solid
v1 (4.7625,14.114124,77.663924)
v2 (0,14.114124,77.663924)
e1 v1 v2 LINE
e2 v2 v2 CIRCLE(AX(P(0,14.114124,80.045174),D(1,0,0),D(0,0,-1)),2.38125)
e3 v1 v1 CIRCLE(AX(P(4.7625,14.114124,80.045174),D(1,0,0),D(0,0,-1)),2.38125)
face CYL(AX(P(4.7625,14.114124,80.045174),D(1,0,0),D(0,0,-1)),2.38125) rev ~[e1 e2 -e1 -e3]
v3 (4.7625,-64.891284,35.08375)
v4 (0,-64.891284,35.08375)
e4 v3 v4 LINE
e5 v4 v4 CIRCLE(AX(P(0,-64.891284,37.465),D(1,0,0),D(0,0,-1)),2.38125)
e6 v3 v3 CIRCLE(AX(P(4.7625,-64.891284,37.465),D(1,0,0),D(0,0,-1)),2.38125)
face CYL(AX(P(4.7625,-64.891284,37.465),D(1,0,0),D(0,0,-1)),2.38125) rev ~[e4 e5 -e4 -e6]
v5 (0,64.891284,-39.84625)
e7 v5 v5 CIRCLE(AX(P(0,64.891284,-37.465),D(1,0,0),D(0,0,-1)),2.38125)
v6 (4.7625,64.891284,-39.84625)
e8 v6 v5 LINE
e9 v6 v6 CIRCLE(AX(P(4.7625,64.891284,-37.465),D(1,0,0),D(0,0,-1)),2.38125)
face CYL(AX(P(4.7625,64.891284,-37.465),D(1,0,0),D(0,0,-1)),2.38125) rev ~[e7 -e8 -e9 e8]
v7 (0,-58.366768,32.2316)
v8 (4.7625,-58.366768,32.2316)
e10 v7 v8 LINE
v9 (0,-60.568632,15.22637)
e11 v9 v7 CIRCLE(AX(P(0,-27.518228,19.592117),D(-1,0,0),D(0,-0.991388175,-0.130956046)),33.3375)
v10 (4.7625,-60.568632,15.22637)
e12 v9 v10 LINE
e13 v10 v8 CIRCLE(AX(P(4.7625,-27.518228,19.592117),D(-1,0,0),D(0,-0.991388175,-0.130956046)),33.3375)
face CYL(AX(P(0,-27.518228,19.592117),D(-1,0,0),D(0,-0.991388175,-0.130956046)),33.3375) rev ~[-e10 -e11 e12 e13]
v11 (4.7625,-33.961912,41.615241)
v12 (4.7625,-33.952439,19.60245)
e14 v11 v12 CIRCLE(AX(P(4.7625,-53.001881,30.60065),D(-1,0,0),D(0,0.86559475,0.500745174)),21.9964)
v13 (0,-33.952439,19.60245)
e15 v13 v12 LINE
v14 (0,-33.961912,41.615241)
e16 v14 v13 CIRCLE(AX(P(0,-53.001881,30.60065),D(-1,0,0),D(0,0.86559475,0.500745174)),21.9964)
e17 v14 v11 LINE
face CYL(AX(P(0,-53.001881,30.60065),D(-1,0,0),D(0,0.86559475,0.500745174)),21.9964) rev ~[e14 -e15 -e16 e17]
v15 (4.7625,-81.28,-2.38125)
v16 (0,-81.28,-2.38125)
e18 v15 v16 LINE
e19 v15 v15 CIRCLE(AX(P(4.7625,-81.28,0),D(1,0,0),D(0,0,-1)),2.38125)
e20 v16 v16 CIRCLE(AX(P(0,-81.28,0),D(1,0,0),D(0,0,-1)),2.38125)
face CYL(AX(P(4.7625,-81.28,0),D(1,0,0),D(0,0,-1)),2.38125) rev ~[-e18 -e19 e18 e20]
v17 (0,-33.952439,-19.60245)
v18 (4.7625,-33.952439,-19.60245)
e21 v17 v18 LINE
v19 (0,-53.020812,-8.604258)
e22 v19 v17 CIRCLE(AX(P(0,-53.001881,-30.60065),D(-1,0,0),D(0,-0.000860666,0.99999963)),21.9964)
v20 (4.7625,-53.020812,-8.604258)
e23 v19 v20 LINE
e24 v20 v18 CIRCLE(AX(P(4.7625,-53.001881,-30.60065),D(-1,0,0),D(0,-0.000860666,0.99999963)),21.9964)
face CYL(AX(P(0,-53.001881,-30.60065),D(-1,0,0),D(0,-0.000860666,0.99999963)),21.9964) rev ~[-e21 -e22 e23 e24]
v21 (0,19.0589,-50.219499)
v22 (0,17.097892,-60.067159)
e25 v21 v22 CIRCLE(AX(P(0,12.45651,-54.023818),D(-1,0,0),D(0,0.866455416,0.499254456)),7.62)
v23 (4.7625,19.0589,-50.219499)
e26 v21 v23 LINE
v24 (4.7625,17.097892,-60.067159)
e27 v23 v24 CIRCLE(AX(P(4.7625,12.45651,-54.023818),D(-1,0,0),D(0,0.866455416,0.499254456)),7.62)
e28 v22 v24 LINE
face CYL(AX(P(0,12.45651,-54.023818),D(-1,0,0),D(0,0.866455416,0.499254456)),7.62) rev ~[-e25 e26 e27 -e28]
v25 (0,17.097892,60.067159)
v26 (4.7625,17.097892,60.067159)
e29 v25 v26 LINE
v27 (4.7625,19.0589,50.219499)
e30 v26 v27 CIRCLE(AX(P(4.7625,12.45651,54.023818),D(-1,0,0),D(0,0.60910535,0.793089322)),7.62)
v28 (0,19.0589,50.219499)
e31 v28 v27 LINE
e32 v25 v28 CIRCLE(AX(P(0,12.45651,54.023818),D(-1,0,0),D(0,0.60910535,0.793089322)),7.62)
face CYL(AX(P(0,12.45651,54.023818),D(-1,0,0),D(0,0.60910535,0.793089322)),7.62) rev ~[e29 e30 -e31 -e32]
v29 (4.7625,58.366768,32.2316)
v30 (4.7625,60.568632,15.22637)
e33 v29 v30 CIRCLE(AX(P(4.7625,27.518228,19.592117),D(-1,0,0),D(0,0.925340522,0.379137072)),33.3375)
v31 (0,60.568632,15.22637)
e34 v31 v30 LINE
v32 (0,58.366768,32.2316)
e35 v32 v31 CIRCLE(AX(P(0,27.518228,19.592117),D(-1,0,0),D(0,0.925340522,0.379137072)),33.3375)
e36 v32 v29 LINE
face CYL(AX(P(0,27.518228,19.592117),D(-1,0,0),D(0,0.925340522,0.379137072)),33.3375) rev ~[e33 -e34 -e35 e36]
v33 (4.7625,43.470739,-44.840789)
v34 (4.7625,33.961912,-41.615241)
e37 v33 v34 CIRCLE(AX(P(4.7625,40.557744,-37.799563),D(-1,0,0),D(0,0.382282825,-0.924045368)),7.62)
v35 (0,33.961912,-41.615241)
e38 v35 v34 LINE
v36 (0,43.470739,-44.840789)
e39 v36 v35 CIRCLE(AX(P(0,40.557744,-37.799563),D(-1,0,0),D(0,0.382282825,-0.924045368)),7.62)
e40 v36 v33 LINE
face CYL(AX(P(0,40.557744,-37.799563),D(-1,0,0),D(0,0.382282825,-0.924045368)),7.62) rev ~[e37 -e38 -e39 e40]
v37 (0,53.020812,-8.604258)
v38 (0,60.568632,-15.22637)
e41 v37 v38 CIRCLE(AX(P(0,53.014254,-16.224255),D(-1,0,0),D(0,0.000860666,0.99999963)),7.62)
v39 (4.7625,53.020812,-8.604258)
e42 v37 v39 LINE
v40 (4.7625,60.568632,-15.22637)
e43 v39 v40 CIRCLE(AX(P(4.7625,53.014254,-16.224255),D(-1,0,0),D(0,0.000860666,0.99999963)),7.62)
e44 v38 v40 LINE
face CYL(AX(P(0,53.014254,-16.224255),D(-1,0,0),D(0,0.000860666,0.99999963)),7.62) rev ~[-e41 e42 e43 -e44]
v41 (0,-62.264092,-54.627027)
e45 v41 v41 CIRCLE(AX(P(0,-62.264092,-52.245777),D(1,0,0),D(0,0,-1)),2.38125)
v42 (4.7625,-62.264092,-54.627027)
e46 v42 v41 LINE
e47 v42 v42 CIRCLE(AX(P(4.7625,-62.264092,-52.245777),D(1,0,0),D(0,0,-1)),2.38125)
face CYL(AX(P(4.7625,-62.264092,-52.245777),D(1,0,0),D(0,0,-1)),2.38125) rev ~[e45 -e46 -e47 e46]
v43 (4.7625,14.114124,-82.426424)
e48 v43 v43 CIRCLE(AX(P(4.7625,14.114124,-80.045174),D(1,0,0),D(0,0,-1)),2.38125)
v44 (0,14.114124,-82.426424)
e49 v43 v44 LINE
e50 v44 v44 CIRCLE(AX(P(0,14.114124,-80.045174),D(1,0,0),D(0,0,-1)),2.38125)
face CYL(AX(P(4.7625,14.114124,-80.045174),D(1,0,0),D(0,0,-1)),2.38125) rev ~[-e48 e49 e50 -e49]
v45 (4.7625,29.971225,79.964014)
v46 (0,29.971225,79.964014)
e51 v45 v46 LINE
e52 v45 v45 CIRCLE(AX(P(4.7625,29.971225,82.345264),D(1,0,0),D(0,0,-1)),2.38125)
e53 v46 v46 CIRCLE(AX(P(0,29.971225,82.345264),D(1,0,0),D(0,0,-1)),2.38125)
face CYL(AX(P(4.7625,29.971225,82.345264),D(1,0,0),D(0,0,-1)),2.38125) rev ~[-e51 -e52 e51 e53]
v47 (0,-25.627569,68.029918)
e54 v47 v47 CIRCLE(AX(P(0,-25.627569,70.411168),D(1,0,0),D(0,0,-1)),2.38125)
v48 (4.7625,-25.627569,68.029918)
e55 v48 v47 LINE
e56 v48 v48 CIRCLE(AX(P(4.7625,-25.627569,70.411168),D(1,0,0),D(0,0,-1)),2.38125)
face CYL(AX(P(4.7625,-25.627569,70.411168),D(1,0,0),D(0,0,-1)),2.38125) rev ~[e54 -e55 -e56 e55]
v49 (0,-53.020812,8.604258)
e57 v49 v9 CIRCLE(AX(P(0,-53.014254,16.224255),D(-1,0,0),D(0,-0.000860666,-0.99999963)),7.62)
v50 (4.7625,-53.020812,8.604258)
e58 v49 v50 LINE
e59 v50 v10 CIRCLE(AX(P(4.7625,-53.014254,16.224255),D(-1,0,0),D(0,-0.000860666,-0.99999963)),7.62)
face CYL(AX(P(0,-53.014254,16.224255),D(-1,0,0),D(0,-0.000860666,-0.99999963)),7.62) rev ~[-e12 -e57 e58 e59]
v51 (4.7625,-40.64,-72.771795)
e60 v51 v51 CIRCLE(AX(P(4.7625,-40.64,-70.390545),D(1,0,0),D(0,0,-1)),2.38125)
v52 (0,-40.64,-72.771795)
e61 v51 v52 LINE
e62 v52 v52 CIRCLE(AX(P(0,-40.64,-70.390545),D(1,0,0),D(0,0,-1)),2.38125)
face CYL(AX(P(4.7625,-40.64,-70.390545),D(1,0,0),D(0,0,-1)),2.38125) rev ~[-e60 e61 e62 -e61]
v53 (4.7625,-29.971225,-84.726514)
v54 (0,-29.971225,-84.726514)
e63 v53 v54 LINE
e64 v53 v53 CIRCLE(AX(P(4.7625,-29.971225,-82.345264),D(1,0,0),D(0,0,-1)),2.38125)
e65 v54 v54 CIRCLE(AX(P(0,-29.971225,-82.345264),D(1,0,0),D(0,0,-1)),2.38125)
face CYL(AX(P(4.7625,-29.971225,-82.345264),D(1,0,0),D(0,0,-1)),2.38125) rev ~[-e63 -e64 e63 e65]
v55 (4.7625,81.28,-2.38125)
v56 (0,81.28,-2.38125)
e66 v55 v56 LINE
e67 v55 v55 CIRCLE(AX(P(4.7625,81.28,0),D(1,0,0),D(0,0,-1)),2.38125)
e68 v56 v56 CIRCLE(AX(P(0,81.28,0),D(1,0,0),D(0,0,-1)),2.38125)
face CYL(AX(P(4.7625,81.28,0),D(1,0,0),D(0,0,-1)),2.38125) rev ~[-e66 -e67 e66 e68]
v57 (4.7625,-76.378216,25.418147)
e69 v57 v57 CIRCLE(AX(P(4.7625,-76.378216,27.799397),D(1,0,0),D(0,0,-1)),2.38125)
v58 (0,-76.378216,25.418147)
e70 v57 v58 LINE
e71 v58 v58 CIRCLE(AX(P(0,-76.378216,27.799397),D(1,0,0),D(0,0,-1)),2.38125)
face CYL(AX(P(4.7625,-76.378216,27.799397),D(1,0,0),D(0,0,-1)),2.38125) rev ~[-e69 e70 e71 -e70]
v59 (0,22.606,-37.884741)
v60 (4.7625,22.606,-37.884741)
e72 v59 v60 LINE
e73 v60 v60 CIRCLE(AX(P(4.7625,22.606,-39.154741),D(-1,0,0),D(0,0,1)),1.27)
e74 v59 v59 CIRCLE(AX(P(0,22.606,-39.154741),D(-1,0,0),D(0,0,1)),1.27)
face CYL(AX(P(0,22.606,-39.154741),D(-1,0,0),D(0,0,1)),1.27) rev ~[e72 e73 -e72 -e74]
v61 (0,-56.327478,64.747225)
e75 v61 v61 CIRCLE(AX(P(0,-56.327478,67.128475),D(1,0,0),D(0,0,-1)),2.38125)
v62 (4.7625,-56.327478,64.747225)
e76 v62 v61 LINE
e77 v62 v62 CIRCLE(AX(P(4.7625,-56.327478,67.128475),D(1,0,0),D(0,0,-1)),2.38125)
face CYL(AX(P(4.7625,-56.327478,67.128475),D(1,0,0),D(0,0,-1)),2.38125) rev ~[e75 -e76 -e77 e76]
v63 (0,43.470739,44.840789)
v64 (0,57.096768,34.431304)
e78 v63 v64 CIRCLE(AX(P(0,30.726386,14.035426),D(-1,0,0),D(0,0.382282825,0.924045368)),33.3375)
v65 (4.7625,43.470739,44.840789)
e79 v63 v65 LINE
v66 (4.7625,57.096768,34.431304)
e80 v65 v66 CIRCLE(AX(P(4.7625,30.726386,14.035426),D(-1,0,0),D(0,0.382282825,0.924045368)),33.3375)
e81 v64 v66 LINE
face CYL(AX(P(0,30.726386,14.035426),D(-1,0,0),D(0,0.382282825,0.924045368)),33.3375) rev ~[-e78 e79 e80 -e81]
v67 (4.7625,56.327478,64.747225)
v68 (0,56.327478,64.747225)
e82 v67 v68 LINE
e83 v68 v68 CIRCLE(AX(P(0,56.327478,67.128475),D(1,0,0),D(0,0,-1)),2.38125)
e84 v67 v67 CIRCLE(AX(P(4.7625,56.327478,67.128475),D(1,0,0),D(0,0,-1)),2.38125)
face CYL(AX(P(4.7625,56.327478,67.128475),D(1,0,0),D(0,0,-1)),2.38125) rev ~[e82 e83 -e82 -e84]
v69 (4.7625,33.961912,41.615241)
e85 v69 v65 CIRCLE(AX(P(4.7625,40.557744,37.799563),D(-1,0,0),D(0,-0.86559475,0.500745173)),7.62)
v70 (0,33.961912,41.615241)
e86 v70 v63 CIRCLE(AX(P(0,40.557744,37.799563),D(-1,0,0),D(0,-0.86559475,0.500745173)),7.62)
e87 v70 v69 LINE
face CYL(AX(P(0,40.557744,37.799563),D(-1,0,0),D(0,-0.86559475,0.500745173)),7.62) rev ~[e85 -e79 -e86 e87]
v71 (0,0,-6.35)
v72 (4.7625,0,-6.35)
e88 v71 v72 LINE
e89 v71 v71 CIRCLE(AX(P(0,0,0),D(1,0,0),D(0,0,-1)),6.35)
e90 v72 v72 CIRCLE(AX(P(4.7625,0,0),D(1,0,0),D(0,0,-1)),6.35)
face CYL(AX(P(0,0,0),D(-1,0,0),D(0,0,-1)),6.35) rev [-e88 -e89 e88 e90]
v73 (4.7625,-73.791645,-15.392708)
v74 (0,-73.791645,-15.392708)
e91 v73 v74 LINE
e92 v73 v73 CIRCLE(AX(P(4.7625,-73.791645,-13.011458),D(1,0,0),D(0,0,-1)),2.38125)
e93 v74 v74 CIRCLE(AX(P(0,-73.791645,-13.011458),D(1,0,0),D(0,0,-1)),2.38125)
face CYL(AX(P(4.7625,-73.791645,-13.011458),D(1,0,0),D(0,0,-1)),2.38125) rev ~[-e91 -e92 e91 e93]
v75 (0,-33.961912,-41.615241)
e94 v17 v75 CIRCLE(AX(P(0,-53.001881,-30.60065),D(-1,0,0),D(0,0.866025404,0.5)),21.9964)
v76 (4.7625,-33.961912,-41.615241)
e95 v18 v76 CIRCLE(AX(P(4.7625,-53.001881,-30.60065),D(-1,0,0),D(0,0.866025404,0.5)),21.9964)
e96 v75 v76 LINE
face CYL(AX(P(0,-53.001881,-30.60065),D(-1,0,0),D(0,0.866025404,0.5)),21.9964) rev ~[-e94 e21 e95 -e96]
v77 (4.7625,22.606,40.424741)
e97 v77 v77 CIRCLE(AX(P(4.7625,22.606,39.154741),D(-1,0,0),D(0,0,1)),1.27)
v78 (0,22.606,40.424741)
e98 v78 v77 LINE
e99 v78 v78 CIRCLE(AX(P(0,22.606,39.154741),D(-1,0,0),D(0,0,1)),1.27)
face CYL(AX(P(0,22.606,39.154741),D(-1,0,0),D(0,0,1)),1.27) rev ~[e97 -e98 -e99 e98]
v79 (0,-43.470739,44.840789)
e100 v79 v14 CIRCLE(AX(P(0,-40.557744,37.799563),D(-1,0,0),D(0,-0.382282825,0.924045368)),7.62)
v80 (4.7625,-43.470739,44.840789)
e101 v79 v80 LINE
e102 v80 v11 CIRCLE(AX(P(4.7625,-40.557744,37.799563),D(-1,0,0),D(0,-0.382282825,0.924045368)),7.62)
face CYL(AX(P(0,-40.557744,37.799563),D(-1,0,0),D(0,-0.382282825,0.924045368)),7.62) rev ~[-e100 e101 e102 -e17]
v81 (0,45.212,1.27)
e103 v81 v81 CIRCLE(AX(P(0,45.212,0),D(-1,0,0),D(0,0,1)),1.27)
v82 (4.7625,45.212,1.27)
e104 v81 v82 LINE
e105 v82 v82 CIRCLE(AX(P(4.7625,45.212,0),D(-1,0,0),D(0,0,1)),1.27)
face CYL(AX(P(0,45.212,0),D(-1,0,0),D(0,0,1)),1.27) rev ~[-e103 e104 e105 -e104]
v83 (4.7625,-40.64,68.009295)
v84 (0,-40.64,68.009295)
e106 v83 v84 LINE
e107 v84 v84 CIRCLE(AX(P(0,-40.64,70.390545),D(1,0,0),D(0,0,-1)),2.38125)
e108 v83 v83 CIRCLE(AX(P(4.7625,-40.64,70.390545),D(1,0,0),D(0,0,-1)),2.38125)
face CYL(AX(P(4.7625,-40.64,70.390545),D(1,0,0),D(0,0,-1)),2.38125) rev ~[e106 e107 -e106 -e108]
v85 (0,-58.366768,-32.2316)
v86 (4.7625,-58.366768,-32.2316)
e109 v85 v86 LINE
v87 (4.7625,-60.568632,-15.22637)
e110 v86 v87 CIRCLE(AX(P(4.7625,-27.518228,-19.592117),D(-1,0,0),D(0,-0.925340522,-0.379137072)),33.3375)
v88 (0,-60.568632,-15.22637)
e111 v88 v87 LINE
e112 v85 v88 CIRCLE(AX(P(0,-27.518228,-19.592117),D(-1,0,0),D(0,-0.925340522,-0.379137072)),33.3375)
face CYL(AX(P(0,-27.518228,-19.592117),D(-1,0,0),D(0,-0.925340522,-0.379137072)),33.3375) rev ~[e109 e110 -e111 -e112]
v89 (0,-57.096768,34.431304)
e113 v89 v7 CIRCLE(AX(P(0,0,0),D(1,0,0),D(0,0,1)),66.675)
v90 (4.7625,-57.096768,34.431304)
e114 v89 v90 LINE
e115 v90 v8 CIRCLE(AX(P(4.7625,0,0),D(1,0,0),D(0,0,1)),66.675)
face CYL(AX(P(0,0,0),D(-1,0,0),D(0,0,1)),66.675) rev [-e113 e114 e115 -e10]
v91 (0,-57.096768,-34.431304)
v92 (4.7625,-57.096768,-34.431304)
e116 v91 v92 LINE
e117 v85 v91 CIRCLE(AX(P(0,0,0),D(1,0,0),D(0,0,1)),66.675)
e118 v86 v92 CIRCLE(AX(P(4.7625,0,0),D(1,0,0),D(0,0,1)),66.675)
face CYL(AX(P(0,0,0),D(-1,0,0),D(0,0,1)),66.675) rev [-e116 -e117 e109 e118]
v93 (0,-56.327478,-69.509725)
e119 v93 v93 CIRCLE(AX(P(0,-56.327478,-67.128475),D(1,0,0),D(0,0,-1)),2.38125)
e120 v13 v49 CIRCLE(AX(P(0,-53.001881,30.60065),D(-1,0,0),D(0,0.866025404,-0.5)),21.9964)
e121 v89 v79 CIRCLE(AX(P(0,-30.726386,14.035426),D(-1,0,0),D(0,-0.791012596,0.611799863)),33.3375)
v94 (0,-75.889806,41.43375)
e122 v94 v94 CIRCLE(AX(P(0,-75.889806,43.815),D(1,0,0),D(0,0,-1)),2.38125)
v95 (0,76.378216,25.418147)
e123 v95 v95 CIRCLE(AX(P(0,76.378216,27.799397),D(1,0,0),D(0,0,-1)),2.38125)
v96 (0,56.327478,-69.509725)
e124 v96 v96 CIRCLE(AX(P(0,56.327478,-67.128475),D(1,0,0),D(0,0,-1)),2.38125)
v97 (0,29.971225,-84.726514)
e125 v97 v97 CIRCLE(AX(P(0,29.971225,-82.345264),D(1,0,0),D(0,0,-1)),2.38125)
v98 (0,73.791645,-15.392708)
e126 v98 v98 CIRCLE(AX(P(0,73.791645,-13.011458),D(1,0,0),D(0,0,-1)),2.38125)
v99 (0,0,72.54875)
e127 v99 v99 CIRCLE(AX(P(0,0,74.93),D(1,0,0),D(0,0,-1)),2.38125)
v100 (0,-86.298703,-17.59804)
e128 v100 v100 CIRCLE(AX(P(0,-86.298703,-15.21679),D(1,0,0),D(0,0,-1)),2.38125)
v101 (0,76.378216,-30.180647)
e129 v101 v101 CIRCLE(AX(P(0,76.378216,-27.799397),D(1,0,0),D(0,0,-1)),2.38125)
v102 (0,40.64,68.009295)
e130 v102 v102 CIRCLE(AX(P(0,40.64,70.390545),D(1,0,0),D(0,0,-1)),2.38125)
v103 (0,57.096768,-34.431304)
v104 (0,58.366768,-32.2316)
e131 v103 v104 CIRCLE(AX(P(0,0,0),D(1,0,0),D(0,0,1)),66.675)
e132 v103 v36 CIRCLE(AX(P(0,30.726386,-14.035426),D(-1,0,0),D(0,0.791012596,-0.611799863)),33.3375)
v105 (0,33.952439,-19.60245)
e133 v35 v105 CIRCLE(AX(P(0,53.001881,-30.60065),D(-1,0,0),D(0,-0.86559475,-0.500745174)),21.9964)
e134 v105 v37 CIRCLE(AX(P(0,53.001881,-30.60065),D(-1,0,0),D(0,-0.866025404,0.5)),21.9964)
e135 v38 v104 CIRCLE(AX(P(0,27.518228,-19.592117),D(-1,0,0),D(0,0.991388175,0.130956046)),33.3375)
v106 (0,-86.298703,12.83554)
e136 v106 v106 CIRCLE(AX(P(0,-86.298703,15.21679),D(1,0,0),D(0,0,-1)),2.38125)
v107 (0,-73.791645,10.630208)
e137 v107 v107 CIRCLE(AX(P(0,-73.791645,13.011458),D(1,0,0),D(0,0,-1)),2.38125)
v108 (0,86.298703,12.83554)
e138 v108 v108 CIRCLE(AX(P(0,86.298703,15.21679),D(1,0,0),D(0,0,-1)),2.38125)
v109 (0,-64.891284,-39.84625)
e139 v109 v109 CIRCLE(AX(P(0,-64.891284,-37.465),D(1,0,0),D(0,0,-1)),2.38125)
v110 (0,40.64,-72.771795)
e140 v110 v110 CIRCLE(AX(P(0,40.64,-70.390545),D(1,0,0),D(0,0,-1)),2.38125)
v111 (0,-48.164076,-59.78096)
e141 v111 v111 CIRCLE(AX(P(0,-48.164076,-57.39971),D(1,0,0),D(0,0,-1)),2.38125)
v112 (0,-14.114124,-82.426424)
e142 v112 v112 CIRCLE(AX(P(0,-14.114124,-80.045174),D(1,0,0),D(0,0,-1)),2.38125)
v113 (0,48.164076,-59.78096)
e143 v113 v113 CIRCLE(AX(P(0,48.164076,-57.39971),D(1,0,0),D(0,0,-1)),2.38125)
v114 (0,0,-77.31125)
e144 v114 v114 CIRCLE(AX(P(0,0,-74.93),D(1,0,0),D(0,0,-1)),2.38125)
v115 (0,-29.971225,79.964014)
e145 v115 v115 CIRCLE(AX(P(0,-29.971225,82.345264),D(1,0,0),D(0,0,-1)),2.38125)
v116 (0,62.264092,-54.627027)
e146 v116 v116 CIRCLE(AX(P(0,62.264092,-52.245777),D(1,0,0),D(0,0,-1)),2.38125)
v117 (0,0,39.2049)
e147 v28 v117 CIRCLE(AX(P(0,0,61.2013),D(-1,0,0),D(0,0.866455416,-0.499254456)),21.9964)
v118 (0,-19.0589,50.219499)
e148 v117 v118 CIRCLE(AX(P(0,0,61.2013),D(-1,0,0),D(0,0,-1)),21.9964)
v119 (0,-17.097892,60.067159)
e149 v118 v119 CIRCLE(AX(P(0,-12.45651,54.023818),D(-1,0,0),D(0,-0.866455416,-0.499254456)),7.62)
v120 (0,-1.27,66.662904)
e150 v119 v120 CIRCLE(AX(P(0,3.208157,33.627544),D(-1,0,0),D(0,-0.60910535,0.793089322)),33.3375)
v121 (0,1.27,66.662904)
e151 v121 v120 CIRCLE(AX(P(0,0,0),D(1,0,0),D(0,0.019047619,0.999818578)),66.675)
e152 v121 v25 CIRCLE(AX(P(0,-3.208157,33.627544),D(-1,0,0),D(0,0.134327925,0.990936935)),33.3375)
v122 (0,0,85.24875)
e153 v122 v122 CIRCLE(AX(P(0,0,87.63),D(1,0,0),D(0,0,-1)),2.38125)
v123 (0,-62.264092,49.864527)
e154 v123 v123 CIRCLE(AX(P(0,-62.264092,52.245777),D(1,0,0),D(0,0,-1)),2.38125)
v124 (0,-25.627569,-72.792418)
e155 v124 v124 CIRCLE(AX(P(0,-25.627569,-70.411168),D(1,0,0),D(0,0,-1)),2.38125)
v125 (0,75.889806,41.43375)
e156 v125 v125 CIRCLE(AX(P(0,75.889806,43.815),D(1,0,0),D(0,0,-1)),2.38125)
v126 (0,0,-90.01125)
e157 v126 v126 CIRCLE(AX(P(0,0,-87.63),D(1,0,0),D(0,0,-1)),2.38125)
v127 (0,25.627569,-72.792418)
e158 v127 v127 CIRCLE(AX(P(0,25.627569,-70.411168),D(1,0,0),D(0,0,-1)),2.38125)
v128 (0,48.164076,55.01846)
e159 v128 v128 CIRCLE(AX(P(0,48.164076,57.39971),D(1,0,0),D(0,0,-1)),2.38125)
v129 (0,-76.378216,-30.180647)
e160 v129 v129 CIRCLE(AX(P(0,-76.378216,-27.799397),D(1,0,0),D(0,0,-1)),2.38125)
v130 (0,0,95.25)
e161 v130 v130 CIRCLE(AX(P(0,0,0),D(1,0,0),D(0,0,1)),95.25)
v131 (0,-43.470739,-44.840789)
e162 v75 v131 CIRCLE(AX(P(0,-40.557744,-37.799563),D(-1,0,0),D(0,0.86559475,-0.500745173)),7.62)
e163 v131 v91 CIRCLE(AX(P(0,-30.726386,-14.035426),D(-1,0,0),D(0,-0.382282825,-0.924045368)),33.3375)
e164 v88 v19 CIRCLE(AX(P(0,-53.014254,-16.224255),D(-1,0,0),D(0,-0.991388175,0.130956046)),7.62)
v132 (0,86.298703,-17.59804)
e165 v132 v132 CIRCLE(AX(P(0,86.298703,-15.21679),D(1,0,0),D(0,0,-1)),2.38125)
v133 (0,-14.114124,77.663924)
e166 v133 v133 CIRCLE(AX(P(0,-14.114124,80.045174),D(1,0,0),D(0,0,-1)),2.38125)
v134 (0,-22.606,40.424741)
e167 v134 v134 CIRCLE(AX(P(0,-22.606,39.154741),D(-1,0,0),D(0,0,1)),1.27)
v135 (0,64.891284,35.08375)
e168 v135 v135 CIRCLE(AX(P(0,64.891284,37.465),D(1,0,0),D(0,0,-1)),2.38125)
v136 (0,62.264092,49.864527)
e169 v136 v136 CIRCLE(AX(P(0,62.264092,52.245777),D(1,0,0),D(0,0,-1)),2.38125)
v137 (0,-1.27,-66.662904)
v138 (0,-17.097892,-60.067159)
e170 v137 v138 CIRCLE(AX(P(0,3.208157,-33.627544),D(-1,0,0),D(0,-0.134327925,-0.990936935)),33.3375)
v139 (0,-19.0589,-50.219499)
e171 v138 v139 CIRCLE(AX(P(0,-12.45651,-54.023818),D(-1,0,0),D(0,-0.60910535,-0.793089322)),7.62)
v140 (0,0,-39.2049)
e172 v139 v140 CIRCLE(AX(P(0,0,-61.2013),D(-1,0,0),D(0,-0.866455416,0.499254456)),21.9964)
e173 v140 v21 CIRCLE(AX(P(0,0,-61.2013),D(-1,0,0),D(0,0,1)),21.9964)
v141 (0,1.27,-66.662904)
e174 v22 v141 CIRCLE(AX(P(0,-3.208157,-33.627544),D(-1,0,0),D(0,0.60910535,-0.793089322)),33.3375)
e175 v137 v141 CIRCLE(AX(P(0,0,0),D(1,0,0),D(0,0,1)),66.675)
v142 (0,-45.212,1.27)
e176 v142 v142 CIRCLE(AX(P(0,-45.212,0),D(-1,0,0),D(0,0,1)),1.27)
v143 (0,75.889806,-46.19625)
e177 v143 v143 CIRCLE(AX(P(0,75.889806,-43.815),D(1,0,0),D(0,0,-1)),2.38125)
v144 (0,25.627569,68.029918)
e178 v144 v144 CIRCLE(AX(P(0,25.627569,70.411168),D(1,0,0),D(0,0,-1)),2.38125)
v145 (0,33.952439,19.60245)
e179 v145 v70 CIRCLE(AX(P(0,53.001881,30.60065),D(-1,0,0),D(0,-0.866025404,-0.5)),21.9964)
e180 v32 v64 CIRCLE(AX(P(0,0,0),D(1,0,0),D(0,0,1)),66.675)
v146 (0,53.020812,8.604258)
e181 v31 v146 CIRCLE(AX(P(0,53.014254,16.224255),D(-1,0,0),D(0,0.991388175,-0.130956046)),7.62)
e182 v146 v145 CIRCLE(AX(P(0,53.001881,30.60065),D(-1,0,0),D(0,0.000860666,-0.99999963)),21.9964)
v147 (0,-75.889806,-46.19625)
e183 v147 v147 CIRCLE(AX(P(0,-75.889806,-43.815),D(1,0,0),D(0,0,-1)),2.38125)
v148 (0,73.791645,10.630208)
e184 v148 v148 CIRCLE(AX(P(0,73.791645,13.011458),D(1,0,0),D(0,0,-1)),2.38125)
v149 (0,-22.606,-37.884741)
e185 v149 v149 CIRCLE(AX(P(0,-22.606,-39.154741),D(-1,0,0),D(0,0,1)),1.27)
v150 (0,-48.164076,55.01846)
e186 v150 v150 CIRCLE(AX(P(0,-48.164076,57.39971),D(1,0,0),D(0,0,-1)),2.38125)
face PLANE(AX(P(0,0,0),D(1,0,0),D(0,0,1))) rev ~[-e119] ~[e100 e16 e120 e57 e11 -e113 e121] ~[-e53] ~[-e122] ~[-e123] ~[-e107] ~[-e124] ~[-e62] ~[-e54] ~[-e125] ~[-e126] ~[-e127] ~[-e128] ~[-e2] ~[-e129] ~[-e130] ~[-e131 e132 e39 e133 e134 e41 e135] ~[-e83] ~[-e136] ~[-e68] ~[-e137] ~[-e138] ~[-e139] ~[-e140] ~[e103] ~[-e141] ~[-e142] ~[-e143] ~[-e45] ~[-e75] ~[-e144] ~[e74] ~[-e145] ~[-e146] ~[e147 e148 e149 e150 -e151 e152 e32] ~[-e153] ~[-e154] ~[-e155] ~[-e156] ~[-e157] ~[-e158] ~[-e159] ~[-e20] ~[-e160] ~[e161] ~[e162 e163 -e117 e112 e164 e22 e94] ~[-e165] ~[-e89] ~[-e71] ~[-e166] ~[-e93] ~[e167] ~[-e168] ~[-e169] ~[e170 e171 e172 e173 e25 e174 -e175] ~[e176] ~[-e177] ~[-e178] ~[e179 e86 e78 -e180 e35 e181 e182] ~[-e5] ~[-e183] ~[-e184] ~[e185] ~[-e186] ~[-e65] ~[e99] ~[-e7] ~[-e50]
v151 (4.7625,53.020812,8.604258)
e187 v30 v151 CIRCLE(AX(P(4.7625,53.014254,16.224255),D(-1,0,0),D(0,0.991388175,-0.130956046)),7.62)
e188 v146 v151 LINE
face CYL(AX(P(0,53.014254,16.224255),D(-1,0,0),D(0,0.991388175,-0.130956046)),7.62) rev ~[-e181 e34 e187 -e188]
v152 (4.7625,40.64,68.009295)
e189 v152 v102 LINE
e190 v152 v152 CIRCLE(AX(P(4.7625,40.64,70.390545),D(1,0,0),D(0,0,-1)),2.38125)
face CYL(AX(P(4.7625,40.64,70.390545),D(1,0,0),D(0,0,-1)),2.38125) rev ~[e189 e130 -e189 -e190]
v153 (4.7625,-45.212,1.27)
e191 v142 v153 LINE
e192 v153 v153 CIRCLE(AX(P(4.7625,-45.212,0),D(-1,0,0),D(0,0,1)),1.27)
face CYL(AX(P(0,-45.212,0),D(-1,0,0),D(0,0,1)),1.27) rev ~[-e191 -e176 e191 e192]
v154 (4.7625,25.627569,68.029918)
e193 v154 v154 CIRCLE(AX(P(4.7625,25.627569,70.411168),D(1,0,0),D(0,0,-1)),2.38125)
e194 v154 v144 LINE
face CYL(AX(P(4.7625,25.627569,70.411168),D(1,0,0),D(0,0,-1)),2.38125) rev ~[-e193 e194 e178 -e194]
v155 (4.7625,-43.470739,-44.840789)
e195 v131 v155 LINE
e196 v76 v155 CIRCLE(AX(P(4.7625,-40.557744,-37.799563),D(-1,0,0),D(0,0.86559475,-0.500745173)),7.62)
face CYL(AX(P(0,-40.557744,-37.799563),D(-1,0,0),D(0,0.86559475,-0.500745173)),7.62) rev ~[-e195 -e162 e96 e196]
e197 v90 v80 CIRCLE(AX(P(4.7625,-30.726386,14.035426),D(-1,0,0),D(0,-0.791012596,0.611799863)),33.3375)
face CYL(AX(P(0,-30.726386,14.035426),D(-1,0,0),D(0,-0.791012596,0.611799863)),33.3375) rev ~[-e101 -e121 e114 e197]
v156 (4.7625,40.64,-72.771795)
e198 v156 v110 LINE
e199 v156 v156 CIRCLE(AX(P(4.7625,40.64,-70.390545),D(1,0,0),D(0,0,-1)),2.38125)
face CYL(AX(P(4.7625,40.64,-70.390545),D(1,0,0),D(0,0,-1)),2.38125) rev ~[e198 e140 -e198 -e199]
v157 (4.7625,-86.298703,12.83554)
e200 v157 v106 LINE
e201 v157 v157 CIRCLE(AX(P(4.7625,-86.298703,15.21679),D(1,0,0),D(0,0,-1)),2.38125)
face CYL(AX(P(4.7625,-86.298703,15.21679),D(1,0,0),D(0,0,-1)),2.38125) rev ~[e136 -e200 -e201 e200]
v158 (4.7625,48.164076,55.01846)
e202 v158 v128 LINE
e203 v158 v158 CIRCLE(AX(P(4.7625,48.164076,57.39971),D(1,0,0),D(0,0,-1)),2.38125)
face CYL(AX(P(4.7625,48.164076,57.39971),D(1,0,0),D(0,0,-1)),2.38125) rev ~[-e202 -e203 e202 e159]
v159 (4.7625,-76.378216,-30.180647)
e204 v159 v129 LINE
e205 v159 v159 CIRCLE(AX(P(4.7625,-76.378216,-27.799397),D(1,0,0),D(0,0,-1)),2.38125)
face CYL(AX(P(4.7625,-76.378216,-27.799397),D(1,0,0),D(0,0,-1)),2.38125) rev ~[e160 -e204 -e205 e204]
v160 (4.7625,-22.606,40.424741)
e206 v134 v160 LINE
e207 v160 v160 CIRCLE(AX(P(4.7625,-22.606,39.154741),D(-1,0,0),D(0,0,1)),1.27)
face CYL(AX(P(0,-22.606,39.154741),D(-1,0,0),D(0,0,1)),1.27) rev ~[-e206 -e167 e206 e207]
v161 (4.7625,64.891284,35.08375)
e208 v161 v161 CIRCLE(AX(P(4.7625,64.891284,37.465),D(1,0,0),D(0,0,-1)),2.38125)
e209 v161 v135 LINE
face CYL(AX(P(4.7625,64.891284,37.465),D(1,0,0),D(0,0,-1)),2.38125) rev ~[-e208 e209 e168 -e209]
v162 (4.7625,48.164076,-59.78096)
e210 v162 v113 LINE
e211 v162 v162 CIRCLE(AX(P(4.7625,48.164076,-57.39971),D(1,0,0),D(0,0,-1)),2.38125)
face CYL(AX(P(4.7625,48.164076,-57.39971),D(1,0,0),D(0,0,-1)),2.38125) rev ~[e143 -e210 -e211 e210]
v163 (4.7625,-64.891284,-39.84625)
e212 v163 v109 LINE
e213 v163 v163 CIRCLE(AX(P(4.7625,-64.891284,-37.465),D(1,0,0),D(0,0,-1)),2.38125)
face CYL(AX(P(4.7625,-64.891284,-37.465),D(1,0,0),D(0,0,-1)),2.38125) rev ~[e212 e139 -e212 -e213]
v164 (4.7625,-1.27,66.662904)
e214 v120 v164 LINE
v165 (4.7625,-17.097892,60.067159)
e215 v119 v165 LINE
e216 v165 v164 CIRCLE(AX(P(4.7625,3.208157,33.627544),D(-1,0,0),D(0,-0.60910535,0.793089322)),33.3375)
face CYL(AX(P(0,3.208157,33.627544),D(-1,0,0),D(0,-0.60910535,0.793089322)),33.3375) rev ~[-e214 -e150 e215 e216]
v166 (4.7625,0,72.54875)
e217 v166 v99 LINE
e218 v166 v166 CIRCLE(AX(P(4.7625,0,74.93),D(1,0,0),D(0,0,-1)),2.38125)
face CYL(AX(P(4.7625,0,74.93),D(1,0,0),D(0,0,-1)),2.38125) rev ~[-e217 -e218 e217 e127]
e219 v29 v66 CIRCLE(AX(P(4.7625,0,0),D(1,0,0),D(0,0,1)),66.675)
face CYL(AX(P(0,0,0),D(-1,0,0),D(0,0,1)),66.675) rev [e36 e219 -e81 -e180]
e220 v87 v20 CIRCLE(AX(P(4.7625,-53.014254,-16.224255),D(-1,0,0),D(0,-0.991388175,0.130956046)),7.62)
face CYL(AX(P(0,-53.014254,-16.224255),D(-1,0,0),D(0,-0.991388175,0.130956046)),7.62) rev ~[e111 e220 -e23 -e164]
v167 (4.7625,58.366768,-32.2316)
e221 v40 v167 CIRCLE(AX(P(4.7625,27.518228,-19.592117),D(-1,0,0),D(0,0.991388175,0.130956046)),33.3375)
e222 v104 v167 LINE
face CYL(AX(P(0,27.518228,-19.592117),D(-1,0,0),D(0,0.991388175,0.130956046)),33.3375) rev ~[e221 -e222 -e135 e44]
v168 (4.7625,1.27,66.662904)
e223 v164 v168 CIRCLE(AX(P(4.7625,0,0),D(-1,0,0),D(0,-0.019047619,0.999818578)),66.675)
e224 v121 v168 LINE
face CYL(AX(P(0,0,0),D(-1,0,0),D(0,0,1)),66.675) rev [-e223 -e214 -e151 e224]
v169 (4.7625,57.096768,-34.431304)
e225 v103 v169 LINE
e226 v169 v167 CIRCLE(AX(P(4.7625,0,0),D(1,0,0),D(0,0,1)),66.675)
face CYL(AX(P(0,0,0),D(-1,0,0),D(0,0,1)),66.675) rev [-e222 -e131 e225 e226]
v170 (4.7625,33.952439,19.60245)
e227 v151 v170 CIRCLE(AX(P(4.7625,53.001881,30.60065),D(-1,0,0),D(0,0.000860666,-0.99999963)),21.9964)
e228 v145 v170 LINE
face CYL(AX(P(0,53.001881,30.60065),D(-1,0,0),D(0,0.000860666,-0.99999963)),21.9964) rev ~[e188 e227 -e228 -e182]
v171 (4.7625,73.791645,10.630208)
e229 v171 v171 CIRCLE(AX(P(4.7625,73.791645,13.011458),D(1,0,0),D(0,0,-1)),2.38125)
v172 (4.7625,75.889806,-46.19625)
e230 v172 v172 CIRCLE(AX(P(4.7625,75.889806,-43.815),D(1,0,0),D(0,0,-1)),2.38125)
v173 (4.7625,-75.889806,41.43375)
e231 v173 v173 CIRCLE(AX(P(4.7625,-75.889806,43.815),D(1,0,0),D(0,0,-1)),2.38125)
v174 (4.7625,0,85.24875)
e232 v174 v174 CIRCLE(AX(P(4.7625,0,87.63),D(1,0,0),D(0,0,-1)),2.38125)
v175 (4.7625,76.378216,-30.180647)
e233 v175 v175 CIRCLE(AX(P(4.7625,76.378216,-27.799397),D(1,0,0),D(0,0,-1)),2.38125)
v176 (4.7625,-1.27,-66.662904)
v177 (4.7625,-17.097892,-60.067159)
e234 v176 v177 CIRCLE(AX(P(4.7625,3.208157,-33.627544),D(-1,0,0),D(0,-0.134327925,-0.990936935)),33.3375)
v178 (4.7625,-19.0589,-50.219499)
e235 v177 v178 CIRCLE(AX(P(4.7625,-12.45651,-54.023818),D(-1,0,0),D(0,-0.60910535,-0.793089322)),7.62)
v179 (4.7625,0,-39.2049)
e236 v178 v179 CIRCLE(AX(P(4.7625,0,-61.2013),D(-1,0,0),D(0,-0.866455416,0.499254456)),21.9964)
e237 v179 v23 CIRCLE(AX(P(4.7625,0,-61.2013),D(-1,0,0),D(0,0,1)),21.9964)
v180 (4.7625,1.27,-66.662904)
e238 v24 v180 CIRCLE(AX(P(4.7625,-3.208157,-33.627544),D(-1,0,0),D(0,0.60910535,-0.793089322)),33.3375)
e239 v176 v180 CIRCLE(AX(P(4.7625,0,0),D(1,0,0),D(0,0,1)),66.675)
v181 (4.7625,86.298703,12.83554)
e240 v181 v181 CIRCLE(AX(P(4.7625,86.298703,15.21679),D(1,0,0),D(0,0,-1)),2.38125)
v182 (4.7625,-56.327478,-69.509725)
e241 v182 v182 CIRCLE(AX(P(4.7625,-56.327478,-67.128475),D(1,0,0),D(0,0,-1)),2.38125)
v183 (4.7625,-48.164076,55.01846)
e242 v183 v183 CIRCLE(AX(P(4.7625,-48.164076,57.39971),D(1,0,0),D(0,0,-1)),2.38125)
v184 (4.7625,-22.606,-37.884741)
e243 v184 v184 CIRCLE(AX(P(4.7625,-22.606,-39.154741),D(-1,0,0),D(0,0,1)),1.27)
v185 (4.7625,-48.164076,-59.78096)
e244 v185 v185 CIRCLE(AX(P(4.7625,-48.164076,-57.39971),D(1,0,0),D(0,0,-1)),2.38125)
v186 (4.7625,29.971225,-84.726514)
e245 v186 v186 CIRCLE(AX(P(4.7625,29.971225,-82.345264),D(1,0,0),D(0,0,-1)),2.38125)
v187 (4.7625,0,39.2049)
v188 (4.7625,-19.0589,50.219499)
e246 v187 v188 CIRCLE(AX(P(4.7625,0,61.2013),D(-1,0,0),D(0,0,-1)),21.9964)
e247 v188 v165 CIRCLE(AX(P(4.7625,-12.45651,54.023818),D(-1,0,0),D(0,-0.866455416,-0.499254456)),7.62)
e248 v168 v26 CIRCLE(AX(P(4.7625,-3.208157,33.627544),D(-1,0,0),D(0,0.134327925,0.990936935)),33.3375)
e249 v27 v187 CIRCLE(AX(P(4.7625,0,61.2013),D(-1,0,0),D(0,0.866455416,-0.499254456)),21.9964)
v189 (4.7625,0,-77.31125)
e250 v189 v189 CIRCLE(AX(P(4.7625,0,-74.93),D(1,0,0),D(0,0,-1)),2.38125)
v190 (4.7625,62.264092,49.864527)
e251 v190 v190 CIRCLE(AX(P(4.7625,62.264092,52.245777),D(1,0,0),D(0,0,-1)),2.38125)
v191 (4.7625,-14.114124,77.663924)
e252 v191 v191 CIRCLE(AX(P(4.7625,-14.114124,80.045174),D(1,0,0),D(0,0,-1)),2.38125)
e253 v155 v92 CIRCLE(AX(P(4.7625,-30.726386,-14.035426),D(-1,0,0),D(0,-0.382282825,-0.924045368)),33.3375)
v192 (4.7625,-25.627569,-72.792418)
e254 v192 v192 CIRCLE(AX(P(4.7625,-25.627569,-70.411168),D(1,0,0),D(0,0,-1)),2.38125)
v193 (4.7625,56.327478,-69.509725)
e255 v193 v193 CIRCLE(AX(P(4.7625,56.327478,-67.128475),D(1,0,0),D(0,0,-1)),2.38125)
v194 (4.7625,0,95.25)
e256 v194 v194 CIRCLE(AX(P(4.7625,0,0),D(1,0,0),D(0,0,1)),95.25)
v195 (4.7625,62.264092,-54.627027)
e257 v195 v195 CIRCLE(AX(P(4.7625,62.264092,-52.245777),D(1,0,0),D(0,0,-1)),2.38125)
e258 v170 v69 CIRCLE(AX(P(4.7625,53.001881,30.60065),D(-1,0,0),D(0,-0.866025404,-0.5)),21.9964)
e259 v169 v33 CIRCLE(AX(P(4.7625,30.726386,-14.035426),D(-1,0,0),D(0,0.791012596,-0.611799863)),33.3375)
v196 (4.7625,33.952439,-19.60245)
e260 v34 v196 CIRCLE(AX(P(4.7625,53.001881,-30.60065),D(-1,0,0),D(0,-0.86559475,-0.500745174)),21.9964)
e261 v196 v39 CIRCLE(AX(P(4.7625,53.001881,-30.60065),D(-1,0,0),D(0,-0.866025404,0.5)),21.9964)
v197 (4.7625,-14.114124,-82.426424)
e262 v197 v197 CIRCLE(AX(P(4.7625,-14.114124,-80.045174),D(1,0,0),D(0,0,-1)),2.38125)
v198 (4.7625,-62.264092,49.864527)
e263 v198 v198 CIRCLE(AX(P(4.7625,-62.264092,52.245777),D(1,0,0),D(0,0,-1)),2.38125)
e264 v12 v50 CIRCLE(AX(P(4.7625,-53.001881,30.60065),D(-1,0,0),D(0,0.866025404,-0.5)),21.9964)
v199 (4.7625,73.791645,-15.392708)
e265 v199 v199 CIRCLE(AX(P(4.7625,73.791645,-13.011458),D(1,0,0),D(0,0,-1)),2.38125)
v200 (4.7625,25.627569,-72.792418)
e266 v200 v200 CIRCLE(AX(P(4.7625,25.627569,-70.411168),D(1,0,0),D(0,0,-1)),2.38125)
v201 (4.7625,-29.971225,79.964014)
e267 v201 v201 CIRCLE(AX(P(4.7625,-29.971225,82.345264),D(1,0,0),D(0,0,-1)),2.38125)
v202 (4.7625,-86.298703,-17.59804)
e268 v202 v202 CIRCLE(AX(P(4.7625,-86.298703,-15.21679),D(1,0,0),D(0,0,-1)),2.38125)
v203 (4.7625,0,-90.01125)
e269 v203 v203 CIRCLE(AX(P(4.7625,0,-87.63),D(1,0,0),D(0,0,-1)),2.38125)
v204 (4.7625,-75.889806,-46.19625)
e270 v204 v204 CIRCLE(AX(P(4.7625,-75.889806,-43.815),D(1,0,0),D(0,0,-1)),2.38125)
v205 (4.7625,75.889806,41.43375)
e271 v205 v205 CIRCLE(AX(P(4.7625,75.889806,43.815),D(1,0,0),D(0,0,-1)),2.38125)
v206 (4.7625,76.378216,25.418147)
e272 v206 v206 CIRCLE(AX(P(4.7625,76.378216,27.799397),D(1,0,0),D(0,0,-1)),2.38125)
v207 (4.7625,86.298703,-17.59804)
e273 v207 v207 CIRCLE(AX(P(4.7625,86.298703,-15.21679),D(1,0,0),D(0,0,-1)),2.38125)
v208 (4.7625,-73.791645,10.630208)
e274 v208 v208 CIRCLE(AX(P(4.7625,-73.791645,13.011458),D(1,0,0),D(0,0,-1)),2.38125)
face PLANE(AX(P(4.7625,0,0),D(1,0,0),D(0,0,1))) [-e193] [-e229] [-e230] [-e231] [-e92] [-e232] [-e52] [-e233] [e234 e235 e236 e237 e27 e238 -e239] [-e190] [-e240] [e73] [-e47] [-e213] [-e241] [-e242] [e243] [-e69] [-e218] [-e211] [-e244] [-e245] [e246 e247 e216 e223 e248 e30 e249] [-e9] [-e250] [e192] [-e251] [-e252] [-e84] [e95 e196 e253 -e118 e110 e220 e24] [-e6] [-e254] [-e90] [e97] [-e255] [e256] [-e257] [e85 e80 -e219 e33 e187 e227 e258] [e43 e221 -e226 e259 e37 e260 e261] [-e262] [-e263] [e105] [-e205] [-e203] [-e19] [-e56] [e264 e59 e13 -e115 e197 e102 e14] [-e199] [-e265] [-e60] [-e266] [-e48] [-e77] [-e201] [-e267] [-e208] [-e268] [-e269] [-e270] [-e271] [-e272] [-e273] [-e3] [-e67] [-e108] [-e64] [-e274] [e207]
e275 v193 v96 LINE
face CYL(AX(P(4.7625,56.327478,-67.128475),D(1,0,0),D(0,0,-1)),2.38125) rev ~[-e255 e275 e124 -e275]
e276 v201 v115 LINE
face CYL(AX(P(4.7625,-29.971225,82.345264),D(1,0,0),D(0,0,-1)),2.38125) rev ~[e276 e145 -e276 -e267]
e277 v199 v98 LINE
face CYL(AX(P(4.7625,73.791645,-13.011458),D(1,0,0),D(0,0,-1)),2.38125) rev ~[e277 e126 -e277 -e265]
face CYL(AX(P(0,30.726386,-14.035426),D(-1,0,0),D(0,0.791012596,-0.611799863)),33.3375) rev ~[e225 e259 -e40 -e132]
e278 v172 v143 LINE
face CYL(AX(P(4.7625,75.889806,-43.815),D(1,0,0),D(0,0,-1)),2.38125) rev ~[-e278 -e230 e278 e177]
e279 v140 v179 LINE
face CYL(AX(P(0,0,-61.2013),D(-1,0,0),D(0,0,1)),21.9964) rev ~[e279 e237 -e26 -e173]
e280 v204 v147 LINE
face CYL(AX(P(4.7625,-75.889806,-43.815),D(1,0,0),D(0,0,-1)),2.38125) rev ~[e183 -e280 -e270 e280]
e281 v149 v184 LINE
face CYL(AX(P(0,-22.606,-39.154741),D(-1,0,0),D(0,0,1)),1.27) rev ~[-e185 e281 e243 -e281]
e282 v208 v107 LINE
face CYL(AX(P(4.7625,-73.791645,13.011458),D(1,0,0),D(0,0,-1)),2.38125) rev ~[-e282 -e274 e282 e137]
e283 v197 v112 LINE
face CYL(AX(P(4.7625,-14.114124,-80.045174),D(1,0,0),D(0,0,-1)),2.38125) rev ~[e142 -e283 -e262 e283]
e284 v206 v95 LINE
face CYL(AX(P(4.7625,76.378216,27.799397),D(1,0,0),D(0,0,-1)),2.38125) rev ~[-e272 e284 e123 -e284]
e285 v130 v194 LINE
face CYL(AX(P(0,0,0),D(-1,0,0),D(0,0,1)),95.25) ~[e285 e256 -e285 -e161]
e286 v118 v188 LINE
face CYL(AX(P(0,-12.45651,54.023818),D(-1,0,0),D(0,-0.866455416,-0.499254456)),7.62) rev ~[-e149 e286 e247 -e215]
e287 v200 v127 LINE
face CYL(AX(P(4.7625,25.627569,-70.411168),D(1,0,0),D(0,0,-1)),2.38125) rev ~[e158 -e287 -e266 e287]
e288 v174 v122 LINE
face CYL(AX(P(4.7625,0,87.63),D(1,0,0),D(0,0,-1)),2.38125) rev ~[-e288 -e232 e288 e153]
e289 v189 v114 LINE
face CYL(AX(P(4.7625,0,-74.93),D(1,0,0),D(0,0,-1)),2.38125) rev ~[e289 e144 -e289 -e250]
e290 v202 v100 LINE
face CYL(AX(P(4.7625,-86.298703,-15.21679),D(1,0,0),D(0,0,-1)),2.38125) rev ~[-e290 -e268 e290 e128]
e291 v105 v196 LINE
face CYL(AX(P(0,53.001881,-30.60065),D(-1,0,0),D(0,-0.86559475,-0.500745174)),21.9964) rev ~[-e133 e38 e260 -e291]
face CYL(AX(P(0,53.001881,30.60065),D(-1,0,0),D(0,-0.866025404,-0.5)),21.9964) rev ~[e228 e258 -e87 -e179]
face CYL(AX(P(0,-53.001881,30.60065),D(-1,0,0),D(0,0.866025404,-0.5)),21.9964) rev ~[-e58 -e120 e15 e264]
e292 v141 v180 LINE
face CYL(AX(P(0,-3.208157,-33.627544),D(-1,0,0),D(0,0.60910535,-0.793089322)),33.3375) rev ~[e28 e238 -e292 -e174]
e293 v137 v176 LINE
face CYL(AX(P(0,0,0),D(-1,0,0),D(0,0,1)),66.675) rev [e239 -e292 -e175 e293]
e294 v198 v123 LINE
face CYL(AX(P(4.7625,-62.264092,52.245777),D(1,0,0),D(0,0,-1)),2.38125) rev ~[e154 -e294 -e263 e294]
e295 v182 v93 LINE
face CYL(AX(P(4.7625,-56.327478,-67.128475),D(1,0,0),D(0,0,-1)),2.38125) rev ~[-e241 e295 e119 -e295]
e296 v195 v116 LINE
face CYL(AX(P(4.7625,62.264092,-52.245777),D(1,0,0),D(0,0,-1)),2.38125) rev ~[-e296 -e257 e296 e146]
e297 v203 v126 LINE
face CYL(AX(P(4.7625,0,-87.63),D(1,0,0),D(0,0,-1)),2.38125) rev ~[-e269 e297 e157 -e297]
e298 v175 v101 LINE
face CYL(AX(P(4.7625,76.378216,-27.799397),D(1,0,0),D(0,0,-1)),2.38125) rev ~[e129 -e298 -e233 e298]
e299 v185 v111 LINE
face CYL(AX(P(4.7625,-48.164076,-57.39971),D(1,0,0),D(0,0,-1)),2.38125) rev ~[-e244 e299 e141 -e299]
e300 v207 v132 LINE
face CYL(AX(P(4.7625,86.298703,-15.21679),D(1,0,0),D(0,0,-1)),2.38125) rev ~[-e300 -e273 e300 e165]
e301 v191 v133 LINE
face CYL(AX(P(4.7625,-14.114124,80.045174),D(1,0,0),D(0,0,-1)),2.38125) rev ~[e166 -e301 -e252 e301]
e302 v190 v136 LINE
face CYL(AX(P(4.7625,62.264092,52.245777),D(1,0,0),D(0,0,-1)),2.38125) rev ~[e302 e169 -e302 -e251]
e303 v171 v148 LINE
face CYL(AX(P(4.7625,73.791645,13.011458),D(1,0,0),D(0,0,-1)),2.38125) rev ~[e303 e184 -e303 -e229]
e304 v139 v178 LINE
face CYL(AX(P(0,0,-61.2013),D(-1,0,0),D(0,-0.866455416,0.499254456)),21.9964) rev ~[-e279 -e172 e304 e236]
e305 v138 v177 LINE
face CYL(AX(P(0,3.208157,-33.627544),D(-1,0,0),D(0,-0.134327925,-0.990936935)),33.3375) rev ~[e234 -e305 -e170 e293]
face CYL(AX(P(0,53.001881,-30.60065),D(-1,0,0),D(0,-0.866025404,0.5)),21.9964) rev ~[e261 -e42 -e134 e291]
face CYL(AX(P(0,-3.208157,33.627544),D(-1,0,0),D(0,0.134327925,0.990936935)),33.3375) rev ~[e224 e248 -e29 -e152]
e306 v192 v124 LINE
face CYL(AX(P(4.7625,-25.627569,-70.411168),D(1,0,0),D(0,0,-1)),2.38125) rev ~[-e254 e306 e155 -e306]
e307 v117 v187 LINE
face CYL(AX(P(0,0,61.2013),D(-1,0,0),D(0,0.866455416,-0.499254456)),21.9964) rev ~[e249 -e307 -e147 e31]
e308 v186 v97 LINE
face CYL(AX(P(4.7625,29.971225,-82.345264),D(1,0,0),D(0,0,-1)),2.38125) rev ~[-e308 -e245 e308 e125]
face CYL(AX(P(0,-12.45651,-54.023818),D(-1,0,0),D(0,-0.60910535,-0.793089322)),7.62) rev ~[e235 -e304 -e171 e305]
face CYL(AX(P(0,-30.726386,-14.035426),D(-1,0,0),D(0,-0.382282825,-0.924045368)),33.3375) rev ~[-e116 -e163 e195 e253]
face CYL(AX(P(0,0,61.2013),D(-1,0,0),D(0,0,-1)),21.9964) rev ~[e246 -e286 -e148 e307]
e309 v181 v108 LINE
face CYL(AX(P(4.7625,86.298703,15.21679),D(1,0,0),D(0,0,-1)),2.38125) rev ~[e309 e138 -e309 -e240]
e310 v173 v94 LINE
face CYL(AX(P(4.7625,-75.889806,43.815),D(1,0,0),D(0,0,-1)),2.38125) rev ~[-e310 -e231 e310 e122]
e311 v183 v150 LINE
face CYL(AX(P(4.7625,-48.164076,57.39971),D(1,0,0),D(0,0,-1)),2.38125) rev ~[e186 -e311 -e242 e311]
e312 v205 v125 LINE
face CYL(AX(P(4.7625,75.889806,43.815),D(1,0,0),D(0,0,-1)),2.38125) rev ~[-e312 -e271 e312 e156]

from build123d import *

# Parameters (mm, degrees)
SKETCH1_R           = 95.25
SKETCH1_R_2         = 66.675
MAIN_ROTOR_DEPTH    = 4.7625
SKETCH2_R           = 2.38125
CUT_SLOTS_DEPTH     = 135.788005424
BOSS_EXTRUDE2_START = -4.7625
SKETCH3_R           = 6.35
BOSS_EXTRUDE2_DEPTH = 4.7625
SKETCH4_R           = 1.27
CUT_EXTRUDE2_DEPTH  = 135.788005424


with BuildPart() as part:
    # Sketch1 → Main Rotor (new body)
    with BuildSketch(Plane(origin=(0, 0, 0), x_dir=(0, 0, -1), z_dir=(1, 0, 0))):
        with Locations(Location((0, 0, 0), (0, 0, 180))):
            Circle(SKETCH1_R)
        with Locations(Location((0, 0, 0), (0, 0, 180))):
            Circle(SKETCH1_R_2, mode=Mode.SUBTRACT)
    extrude(amount=MAIN_ROTOR_DEPTH)

    # Sketch2 → Cut Slots (cut, through all)
    with BuildSketch(Plane(origin=(4.7625, 0, 0), x_dir=(0, 0, -1), z_dir=(1, 0, 0))):
        with Locations((-80.045174165, 14.114123881)):
            Circle(SKETCH2_R)
        with Locations((-82.345264359, 29.97122516)):
            Circle(SKETCH2_R)
        with Locations((-70.411168075, 25.627569339)):
            Circle(SKETCH2_R)
        with Locations((-70.39054482, 40.64)):
            Circle(SKETCH2_R)
        with Locations((-67.128474551, 56.327478237)):
            Circle(SKETCH2_R)
        with Locations((-57.399710123, 48.164075594)):
            Circle(SKETCH2_R)
        with Locations((-52.245776915, 62.264092337)):
            Circle(SKETCH2_R)
        with Locations((-87.63, 0)):
            Circle(SKETCH2_R)
        with Locations((-43.815, 75.889806134)):
            Circle(SKETCH2_R)
        with Locations((-37.465, 64.891283506)):
            Circle(SKETCH2_R)
        with Locations((-74.93, 0)):
            Circle(SKETCH2_R)
        with Locations((-27.79939725, 76.378216217)):
            Circle(SKETCH2_R)
        with Locations((-15.216789809, 86.298703396)):
            Circle(SKETCH2_R)
        with Locations((-13.011457953, 73.791644933)):
            Circle(SKETCH2_R)
        with Locations((0, 81.28)):
            Circle(SKETCH2_R)
        with Locations((15.216789809, 86.298703396)):
            Circle(SKETCH2_R)
        with Locations((13.011457953, 73.791644933)):
            Circle(SKETCH2_R)
        with Locations((27.79939725, 76.378216217)):
            Circle(SKETCH2_R)
        with Locations((43.815, 75.889806134)):
            Circle(SKETCH2_R)
        with Locations((37.465, 64.891283506)):
            Circle(SKETCH2_R)
        with Locations((52.245776915, 62.264092337)):
            Circle(SKETCH2_R)
        with Locations((67.128474551, 56.327478237)):
            Circle(SKETCH2_R)
        with Locations((57.399710123, 48.164075594)):
            Circle(SKETCH2_R)
        with Locations((70.39054482, 40.64)):
            Circle(SKETCH2_R)
        with Locations((82.345264359, 29.97122516)):
            Circle(SKETCH2_R)
        with Locations((70.411168075, 25.627569339)):
            Circle(SKETCH2_R)
        with Locations((80.045174165, 14.114123881)):
            Circle(SKETCH2_R)
        with Locations((87.63, 0)):
            Circle(SKETCH2_R)
        with Locations((74.93, 0)):
            Circle(SKETCH2_R)
        with Locations((80.045174165, -14.114123881)):
            Circle(SKETCH2_R)
        with Locations((82.345264359, -29.97122516)):
            Circle(SKETCH2_R)
        with Locations((70.411168075, -25.627569339)):
            Circle(SKETCH2_R)
        with Locations((70.39054482, -40.64)):
            Circle(SKETCH2_R)
        with Locations((67.128474551, -56.327478237)):
            Circle(SKETCH2_R)
        with Locations((57.399710123, -48.164075594)):
            Circle(SKETCH2_R)
        with Locations((52.245776915, -62.264092337)):
            Circle(SKETCH2_R)
        with Locations((43.815, -75.889806134)):
            Circle(SKETCH2_R)
        with Locations((37.465, -64.891283506)):
            Circle(SKETCH2_R)
        with Locations((27.79939725, -76.378216217)):
            Circle(SKETCH2_R)
        with Locations((15.216789809, -86.298703396)):
            Circle(SKETCH2_R)
        with Locations((13.011457953, -73.791644933)):
            Circle(SKETCH2_R)
        with Locations((0, -81.28)):
            Circle(SKETCH2_R)
        with Locations((-15.216789809, -86.298703396)):
            Circle(SKETCH2_R)
        with Locations((-13.011457953, -73.791644933)):
            Circle(SKETCH2_R)
        with Locations((-27.79939725, -76.378216217)):
            Circle(SKETCH2_R)
        with Locations((-43.815, -75.889806134)):
            Circle(SKETCH2_R)
        with Locations((-37.465, -64.891283506)):
            Circle(SKETCH2_R)
        with Locations((-52.245776915, -62.264092337)):
            Circle(SKETCH2_R)
        with Locations((-67.128474551, -56.327478237)):
            Circle(SKETCH2_R)
        with Locations((-57.399710123, -48.164075594)):
            Circle(SKETCH2_R)
        with Locations((-70.39054482, -40.64)):
            Circle(SKETCH2_R)
        with Locations((-82.345264359, -29.97122516)):
            Circle(SKETCH2_R)
        with Locations((-70.411168075, -25.627569339)):
            Circle(SKETCH2_R)
        with Locations((-80.045174165, -14.114123881)):
            Circle(SKETCH2_R)
    extrude(amount=-CUT_SLOTS_DEPTH, mode=Mode.SUBTRACT)

    # Sketch3 → Boss-Extrude2 (add)
    with BuildSketch(Plane(origin=(4.7625, 0, 0), x_dir=(0, 0, -1), z_dir=(1, 0, 0)).offset(BOSS_EXTRUDE2_START)):
        with BuildLine():
            ThreePointArc((15.226370254, -60.56863172), (10.49630902, -58.039692226), (8.604258147, -53.0208121))
            ThreePointArc((8.604258147, -53.0208121), (11.546477683, -42.011879168), (19.60245, -33.952439353))
            ThreePointArc((19.60245, -33.952439353), (30.610115778, -31.005482581), (41.615241134, -33.961912186))
            ThreePointArc((41.615241134, -33.961912186), (45.015693386, -38.109916371), (44.840788615, -43.470739307))
            ThreePointArc((44.840788615, -43.470739307), (40.527102575, -50.964468228), (34.431304095, -57.096768064))
            ThreePointArc((34.431304095, -57.096768064), (57.742243797, -33.3375), (66.662903665, -1.27))
            ThreePointArc((66.662903665, -1.27), (64.400075463, -9.615266258), (60.067158869, -17.097892412))
            ThreePointArc((60.067158869, -17.097892412), (55.512002406, -19.929775856), (50.219499281, -19.058899914))
            ThreePointArc((50.219499281, -19.058899914), (42.156593461, -11.006396586), (39.2049, 0))
            ThreePointArc((39.2049, 0), (42.156593461, 11.006396586), (50.219499281, 19.058899914))
            ThreePointArc((50.219499281, 19.058899914), (55.512002406, 19.929775856), (60.067158869, 17.097892412))
            ThreePointArc((60.067158869, 17.097892412), (64.400075463, 9.615266258), (66.662903665, 1.27))
            ThreePointArc((66.662903665, 1.27), (57.742243797, 33.3375), (34.431304095, 57.096768064))
            ThreePointArc((34.431304095, 57.096768064), (40.527102575, 50.964468228), (44.840788615, 43.470739307))
            ThreePointArc((44.840788615, 43.470739307), (45.015693386, 38.109916371), (41.615241134, 33.961912186))
            ThreePointArc((41.615241134, 33.961912186), (30.610115778, 31.005482581), (19.60245, 33.952439353))
            ThreePointArc((19.60245, 33.952439353), (11.546477683, 42.011879168), (8.604258147, 53.0208121))
            ThreePointArc((8.604258147, 53.0208121), (10.49630902, 58.039692226), (15.226370254, 60.56863172))
            ThreePointArc((15.226370254, 60.56863172), (23.872972888, 60.579734486), (32.23159957, 58.366768064))
            ThreePointArc((32.23159957, 58.366768064), (0, 66.675), (-32.23159957, 58.366768064))
            ThreePointArc((-32.23159957, 58.366768064), (-23.872972888, 60.579734486), (-15.226370254, 60.56863172))
            ThreePointArc((-15.226370254, 60.56863172), (-10.49630902, 58.039692226), (-8.604258147, 53.0208121))
            ThreePointArc((-8.604258147, 53.0208121), (-11.546477683, 42.011879168), (-19.60245, 33.952439353))
            ThreePointArc((-19.60245, 33.952439353), (-30.610115778, 31.005482581), (-41.615241134, 33.961912186))
            ThreePointArc((-41.615241134, 33.961912186), (-45.015693386, 38.109916371), (-44.840788615, 43.470739307))
            ThreePointArc((-44.840788615, 43.470739307), (-40.527102575, 50.964468228), (-34.431304095, 57.096768064))
            ThreePointArc((-34.431304095, 57.096768064), (-57.742243797, 33.3375), (-66.662903665, 1.27))
            ThreePointArc((-66.662903665, 1.27), (-64.400075463, 9.615266258), (-60.067158869, 17.097892412))
            ThreePointArc((-60.067158869, 17.097892412), (-55.512002406, 19.929775856), (-50.219499281, 19.058899914))
            ThreePointArc((-50.219499281, 19.058899914), (-42.156593461, 11.006396586), (-39.2049, 0))
            ThreePointArc((-39.2049, 0), (-42.156593461, -11.006396586), (-50.219499281, -19.058899914))
            ThreePointArc((-50.219499281, -19.058899914), (-55.512002406, -19.929775856), (-60.067158869, -17.097892412))
            ThreePointArc((-60.067158869, -17.097892412), (-64.400075463, -9.615266258), (-66.662903665, -1.27))
            ThreePointArc((-66.662903665, -1.27), (-57.742243797, -33.3375), (-34.431304095, -57.096768064))
            ThreePointArc((-34.431304095, -57.096768064), (-40.527102575, -50.964468228), (-44.840788615, -43.470739307))
            ThreePointArc((-44.840788615, -43.470739307), (-45.015693386, -38.109916371), (-41.615241134, -33.961912186))
            ThreePointArc((-41.615241134, -33.961912186), (-30.610115778, -31.005482581), (-19.60245, -33.952439353))
            ThreePointArc((-19.60245, -33.952439353), (-11.546477683, -42.011879168), (-8.604258147, -53.0208121))
            ThreePointArc((-8.604258147, -53.0208121), (-10.49630902, -58.039692226), (-15.226370254, -60.56863172))
            ThreePointArc((-15.226370254, -60.56863172), (-23.872972888, -60.579734486), (-32.23159957, -58.366768064))
            ThreePointArc((-32.23159957, -58.366768064), (0, -66.675), (32.23159957, -58.366768064))
            ThreePointArc((32.23159957, -58.366768064), (23.872972888, -60.579734486), (15.226370254, -60.56863172))
        make_face()
        Circle(SKETCH3_R, mode=Mode.SUBTRACT)
    extrude(amount=BOSS_EXTRUDE2_DEPTH)

    # Sketch4 → Cut-Extrude2 (cut, through all)
    with BuildSketch(Plane.ZY):
        with Locations((0, 45.212)):
            Circle(SKETCH4_R)
        with Locations((39.154740556, 22.606)):
            Circle(SKETCH4_R)
        with Locations((39.154740556, -22.606)):
            Circle(SKETCH4_R)
        with Locations((0, -45.212)):
            Circle(SKETCH4_R)
        with Locations((-39.154740556, -22.606)):
            Circle(SKETCH4_R)
        with Locations((-39.154740556, 22.606)):
            Circle(SKETCH4_R)
    extrude(amount=-CUT_EXTRUDE2_DEPTH, mode=Mode.SUBTRACT)


solid = part.part
